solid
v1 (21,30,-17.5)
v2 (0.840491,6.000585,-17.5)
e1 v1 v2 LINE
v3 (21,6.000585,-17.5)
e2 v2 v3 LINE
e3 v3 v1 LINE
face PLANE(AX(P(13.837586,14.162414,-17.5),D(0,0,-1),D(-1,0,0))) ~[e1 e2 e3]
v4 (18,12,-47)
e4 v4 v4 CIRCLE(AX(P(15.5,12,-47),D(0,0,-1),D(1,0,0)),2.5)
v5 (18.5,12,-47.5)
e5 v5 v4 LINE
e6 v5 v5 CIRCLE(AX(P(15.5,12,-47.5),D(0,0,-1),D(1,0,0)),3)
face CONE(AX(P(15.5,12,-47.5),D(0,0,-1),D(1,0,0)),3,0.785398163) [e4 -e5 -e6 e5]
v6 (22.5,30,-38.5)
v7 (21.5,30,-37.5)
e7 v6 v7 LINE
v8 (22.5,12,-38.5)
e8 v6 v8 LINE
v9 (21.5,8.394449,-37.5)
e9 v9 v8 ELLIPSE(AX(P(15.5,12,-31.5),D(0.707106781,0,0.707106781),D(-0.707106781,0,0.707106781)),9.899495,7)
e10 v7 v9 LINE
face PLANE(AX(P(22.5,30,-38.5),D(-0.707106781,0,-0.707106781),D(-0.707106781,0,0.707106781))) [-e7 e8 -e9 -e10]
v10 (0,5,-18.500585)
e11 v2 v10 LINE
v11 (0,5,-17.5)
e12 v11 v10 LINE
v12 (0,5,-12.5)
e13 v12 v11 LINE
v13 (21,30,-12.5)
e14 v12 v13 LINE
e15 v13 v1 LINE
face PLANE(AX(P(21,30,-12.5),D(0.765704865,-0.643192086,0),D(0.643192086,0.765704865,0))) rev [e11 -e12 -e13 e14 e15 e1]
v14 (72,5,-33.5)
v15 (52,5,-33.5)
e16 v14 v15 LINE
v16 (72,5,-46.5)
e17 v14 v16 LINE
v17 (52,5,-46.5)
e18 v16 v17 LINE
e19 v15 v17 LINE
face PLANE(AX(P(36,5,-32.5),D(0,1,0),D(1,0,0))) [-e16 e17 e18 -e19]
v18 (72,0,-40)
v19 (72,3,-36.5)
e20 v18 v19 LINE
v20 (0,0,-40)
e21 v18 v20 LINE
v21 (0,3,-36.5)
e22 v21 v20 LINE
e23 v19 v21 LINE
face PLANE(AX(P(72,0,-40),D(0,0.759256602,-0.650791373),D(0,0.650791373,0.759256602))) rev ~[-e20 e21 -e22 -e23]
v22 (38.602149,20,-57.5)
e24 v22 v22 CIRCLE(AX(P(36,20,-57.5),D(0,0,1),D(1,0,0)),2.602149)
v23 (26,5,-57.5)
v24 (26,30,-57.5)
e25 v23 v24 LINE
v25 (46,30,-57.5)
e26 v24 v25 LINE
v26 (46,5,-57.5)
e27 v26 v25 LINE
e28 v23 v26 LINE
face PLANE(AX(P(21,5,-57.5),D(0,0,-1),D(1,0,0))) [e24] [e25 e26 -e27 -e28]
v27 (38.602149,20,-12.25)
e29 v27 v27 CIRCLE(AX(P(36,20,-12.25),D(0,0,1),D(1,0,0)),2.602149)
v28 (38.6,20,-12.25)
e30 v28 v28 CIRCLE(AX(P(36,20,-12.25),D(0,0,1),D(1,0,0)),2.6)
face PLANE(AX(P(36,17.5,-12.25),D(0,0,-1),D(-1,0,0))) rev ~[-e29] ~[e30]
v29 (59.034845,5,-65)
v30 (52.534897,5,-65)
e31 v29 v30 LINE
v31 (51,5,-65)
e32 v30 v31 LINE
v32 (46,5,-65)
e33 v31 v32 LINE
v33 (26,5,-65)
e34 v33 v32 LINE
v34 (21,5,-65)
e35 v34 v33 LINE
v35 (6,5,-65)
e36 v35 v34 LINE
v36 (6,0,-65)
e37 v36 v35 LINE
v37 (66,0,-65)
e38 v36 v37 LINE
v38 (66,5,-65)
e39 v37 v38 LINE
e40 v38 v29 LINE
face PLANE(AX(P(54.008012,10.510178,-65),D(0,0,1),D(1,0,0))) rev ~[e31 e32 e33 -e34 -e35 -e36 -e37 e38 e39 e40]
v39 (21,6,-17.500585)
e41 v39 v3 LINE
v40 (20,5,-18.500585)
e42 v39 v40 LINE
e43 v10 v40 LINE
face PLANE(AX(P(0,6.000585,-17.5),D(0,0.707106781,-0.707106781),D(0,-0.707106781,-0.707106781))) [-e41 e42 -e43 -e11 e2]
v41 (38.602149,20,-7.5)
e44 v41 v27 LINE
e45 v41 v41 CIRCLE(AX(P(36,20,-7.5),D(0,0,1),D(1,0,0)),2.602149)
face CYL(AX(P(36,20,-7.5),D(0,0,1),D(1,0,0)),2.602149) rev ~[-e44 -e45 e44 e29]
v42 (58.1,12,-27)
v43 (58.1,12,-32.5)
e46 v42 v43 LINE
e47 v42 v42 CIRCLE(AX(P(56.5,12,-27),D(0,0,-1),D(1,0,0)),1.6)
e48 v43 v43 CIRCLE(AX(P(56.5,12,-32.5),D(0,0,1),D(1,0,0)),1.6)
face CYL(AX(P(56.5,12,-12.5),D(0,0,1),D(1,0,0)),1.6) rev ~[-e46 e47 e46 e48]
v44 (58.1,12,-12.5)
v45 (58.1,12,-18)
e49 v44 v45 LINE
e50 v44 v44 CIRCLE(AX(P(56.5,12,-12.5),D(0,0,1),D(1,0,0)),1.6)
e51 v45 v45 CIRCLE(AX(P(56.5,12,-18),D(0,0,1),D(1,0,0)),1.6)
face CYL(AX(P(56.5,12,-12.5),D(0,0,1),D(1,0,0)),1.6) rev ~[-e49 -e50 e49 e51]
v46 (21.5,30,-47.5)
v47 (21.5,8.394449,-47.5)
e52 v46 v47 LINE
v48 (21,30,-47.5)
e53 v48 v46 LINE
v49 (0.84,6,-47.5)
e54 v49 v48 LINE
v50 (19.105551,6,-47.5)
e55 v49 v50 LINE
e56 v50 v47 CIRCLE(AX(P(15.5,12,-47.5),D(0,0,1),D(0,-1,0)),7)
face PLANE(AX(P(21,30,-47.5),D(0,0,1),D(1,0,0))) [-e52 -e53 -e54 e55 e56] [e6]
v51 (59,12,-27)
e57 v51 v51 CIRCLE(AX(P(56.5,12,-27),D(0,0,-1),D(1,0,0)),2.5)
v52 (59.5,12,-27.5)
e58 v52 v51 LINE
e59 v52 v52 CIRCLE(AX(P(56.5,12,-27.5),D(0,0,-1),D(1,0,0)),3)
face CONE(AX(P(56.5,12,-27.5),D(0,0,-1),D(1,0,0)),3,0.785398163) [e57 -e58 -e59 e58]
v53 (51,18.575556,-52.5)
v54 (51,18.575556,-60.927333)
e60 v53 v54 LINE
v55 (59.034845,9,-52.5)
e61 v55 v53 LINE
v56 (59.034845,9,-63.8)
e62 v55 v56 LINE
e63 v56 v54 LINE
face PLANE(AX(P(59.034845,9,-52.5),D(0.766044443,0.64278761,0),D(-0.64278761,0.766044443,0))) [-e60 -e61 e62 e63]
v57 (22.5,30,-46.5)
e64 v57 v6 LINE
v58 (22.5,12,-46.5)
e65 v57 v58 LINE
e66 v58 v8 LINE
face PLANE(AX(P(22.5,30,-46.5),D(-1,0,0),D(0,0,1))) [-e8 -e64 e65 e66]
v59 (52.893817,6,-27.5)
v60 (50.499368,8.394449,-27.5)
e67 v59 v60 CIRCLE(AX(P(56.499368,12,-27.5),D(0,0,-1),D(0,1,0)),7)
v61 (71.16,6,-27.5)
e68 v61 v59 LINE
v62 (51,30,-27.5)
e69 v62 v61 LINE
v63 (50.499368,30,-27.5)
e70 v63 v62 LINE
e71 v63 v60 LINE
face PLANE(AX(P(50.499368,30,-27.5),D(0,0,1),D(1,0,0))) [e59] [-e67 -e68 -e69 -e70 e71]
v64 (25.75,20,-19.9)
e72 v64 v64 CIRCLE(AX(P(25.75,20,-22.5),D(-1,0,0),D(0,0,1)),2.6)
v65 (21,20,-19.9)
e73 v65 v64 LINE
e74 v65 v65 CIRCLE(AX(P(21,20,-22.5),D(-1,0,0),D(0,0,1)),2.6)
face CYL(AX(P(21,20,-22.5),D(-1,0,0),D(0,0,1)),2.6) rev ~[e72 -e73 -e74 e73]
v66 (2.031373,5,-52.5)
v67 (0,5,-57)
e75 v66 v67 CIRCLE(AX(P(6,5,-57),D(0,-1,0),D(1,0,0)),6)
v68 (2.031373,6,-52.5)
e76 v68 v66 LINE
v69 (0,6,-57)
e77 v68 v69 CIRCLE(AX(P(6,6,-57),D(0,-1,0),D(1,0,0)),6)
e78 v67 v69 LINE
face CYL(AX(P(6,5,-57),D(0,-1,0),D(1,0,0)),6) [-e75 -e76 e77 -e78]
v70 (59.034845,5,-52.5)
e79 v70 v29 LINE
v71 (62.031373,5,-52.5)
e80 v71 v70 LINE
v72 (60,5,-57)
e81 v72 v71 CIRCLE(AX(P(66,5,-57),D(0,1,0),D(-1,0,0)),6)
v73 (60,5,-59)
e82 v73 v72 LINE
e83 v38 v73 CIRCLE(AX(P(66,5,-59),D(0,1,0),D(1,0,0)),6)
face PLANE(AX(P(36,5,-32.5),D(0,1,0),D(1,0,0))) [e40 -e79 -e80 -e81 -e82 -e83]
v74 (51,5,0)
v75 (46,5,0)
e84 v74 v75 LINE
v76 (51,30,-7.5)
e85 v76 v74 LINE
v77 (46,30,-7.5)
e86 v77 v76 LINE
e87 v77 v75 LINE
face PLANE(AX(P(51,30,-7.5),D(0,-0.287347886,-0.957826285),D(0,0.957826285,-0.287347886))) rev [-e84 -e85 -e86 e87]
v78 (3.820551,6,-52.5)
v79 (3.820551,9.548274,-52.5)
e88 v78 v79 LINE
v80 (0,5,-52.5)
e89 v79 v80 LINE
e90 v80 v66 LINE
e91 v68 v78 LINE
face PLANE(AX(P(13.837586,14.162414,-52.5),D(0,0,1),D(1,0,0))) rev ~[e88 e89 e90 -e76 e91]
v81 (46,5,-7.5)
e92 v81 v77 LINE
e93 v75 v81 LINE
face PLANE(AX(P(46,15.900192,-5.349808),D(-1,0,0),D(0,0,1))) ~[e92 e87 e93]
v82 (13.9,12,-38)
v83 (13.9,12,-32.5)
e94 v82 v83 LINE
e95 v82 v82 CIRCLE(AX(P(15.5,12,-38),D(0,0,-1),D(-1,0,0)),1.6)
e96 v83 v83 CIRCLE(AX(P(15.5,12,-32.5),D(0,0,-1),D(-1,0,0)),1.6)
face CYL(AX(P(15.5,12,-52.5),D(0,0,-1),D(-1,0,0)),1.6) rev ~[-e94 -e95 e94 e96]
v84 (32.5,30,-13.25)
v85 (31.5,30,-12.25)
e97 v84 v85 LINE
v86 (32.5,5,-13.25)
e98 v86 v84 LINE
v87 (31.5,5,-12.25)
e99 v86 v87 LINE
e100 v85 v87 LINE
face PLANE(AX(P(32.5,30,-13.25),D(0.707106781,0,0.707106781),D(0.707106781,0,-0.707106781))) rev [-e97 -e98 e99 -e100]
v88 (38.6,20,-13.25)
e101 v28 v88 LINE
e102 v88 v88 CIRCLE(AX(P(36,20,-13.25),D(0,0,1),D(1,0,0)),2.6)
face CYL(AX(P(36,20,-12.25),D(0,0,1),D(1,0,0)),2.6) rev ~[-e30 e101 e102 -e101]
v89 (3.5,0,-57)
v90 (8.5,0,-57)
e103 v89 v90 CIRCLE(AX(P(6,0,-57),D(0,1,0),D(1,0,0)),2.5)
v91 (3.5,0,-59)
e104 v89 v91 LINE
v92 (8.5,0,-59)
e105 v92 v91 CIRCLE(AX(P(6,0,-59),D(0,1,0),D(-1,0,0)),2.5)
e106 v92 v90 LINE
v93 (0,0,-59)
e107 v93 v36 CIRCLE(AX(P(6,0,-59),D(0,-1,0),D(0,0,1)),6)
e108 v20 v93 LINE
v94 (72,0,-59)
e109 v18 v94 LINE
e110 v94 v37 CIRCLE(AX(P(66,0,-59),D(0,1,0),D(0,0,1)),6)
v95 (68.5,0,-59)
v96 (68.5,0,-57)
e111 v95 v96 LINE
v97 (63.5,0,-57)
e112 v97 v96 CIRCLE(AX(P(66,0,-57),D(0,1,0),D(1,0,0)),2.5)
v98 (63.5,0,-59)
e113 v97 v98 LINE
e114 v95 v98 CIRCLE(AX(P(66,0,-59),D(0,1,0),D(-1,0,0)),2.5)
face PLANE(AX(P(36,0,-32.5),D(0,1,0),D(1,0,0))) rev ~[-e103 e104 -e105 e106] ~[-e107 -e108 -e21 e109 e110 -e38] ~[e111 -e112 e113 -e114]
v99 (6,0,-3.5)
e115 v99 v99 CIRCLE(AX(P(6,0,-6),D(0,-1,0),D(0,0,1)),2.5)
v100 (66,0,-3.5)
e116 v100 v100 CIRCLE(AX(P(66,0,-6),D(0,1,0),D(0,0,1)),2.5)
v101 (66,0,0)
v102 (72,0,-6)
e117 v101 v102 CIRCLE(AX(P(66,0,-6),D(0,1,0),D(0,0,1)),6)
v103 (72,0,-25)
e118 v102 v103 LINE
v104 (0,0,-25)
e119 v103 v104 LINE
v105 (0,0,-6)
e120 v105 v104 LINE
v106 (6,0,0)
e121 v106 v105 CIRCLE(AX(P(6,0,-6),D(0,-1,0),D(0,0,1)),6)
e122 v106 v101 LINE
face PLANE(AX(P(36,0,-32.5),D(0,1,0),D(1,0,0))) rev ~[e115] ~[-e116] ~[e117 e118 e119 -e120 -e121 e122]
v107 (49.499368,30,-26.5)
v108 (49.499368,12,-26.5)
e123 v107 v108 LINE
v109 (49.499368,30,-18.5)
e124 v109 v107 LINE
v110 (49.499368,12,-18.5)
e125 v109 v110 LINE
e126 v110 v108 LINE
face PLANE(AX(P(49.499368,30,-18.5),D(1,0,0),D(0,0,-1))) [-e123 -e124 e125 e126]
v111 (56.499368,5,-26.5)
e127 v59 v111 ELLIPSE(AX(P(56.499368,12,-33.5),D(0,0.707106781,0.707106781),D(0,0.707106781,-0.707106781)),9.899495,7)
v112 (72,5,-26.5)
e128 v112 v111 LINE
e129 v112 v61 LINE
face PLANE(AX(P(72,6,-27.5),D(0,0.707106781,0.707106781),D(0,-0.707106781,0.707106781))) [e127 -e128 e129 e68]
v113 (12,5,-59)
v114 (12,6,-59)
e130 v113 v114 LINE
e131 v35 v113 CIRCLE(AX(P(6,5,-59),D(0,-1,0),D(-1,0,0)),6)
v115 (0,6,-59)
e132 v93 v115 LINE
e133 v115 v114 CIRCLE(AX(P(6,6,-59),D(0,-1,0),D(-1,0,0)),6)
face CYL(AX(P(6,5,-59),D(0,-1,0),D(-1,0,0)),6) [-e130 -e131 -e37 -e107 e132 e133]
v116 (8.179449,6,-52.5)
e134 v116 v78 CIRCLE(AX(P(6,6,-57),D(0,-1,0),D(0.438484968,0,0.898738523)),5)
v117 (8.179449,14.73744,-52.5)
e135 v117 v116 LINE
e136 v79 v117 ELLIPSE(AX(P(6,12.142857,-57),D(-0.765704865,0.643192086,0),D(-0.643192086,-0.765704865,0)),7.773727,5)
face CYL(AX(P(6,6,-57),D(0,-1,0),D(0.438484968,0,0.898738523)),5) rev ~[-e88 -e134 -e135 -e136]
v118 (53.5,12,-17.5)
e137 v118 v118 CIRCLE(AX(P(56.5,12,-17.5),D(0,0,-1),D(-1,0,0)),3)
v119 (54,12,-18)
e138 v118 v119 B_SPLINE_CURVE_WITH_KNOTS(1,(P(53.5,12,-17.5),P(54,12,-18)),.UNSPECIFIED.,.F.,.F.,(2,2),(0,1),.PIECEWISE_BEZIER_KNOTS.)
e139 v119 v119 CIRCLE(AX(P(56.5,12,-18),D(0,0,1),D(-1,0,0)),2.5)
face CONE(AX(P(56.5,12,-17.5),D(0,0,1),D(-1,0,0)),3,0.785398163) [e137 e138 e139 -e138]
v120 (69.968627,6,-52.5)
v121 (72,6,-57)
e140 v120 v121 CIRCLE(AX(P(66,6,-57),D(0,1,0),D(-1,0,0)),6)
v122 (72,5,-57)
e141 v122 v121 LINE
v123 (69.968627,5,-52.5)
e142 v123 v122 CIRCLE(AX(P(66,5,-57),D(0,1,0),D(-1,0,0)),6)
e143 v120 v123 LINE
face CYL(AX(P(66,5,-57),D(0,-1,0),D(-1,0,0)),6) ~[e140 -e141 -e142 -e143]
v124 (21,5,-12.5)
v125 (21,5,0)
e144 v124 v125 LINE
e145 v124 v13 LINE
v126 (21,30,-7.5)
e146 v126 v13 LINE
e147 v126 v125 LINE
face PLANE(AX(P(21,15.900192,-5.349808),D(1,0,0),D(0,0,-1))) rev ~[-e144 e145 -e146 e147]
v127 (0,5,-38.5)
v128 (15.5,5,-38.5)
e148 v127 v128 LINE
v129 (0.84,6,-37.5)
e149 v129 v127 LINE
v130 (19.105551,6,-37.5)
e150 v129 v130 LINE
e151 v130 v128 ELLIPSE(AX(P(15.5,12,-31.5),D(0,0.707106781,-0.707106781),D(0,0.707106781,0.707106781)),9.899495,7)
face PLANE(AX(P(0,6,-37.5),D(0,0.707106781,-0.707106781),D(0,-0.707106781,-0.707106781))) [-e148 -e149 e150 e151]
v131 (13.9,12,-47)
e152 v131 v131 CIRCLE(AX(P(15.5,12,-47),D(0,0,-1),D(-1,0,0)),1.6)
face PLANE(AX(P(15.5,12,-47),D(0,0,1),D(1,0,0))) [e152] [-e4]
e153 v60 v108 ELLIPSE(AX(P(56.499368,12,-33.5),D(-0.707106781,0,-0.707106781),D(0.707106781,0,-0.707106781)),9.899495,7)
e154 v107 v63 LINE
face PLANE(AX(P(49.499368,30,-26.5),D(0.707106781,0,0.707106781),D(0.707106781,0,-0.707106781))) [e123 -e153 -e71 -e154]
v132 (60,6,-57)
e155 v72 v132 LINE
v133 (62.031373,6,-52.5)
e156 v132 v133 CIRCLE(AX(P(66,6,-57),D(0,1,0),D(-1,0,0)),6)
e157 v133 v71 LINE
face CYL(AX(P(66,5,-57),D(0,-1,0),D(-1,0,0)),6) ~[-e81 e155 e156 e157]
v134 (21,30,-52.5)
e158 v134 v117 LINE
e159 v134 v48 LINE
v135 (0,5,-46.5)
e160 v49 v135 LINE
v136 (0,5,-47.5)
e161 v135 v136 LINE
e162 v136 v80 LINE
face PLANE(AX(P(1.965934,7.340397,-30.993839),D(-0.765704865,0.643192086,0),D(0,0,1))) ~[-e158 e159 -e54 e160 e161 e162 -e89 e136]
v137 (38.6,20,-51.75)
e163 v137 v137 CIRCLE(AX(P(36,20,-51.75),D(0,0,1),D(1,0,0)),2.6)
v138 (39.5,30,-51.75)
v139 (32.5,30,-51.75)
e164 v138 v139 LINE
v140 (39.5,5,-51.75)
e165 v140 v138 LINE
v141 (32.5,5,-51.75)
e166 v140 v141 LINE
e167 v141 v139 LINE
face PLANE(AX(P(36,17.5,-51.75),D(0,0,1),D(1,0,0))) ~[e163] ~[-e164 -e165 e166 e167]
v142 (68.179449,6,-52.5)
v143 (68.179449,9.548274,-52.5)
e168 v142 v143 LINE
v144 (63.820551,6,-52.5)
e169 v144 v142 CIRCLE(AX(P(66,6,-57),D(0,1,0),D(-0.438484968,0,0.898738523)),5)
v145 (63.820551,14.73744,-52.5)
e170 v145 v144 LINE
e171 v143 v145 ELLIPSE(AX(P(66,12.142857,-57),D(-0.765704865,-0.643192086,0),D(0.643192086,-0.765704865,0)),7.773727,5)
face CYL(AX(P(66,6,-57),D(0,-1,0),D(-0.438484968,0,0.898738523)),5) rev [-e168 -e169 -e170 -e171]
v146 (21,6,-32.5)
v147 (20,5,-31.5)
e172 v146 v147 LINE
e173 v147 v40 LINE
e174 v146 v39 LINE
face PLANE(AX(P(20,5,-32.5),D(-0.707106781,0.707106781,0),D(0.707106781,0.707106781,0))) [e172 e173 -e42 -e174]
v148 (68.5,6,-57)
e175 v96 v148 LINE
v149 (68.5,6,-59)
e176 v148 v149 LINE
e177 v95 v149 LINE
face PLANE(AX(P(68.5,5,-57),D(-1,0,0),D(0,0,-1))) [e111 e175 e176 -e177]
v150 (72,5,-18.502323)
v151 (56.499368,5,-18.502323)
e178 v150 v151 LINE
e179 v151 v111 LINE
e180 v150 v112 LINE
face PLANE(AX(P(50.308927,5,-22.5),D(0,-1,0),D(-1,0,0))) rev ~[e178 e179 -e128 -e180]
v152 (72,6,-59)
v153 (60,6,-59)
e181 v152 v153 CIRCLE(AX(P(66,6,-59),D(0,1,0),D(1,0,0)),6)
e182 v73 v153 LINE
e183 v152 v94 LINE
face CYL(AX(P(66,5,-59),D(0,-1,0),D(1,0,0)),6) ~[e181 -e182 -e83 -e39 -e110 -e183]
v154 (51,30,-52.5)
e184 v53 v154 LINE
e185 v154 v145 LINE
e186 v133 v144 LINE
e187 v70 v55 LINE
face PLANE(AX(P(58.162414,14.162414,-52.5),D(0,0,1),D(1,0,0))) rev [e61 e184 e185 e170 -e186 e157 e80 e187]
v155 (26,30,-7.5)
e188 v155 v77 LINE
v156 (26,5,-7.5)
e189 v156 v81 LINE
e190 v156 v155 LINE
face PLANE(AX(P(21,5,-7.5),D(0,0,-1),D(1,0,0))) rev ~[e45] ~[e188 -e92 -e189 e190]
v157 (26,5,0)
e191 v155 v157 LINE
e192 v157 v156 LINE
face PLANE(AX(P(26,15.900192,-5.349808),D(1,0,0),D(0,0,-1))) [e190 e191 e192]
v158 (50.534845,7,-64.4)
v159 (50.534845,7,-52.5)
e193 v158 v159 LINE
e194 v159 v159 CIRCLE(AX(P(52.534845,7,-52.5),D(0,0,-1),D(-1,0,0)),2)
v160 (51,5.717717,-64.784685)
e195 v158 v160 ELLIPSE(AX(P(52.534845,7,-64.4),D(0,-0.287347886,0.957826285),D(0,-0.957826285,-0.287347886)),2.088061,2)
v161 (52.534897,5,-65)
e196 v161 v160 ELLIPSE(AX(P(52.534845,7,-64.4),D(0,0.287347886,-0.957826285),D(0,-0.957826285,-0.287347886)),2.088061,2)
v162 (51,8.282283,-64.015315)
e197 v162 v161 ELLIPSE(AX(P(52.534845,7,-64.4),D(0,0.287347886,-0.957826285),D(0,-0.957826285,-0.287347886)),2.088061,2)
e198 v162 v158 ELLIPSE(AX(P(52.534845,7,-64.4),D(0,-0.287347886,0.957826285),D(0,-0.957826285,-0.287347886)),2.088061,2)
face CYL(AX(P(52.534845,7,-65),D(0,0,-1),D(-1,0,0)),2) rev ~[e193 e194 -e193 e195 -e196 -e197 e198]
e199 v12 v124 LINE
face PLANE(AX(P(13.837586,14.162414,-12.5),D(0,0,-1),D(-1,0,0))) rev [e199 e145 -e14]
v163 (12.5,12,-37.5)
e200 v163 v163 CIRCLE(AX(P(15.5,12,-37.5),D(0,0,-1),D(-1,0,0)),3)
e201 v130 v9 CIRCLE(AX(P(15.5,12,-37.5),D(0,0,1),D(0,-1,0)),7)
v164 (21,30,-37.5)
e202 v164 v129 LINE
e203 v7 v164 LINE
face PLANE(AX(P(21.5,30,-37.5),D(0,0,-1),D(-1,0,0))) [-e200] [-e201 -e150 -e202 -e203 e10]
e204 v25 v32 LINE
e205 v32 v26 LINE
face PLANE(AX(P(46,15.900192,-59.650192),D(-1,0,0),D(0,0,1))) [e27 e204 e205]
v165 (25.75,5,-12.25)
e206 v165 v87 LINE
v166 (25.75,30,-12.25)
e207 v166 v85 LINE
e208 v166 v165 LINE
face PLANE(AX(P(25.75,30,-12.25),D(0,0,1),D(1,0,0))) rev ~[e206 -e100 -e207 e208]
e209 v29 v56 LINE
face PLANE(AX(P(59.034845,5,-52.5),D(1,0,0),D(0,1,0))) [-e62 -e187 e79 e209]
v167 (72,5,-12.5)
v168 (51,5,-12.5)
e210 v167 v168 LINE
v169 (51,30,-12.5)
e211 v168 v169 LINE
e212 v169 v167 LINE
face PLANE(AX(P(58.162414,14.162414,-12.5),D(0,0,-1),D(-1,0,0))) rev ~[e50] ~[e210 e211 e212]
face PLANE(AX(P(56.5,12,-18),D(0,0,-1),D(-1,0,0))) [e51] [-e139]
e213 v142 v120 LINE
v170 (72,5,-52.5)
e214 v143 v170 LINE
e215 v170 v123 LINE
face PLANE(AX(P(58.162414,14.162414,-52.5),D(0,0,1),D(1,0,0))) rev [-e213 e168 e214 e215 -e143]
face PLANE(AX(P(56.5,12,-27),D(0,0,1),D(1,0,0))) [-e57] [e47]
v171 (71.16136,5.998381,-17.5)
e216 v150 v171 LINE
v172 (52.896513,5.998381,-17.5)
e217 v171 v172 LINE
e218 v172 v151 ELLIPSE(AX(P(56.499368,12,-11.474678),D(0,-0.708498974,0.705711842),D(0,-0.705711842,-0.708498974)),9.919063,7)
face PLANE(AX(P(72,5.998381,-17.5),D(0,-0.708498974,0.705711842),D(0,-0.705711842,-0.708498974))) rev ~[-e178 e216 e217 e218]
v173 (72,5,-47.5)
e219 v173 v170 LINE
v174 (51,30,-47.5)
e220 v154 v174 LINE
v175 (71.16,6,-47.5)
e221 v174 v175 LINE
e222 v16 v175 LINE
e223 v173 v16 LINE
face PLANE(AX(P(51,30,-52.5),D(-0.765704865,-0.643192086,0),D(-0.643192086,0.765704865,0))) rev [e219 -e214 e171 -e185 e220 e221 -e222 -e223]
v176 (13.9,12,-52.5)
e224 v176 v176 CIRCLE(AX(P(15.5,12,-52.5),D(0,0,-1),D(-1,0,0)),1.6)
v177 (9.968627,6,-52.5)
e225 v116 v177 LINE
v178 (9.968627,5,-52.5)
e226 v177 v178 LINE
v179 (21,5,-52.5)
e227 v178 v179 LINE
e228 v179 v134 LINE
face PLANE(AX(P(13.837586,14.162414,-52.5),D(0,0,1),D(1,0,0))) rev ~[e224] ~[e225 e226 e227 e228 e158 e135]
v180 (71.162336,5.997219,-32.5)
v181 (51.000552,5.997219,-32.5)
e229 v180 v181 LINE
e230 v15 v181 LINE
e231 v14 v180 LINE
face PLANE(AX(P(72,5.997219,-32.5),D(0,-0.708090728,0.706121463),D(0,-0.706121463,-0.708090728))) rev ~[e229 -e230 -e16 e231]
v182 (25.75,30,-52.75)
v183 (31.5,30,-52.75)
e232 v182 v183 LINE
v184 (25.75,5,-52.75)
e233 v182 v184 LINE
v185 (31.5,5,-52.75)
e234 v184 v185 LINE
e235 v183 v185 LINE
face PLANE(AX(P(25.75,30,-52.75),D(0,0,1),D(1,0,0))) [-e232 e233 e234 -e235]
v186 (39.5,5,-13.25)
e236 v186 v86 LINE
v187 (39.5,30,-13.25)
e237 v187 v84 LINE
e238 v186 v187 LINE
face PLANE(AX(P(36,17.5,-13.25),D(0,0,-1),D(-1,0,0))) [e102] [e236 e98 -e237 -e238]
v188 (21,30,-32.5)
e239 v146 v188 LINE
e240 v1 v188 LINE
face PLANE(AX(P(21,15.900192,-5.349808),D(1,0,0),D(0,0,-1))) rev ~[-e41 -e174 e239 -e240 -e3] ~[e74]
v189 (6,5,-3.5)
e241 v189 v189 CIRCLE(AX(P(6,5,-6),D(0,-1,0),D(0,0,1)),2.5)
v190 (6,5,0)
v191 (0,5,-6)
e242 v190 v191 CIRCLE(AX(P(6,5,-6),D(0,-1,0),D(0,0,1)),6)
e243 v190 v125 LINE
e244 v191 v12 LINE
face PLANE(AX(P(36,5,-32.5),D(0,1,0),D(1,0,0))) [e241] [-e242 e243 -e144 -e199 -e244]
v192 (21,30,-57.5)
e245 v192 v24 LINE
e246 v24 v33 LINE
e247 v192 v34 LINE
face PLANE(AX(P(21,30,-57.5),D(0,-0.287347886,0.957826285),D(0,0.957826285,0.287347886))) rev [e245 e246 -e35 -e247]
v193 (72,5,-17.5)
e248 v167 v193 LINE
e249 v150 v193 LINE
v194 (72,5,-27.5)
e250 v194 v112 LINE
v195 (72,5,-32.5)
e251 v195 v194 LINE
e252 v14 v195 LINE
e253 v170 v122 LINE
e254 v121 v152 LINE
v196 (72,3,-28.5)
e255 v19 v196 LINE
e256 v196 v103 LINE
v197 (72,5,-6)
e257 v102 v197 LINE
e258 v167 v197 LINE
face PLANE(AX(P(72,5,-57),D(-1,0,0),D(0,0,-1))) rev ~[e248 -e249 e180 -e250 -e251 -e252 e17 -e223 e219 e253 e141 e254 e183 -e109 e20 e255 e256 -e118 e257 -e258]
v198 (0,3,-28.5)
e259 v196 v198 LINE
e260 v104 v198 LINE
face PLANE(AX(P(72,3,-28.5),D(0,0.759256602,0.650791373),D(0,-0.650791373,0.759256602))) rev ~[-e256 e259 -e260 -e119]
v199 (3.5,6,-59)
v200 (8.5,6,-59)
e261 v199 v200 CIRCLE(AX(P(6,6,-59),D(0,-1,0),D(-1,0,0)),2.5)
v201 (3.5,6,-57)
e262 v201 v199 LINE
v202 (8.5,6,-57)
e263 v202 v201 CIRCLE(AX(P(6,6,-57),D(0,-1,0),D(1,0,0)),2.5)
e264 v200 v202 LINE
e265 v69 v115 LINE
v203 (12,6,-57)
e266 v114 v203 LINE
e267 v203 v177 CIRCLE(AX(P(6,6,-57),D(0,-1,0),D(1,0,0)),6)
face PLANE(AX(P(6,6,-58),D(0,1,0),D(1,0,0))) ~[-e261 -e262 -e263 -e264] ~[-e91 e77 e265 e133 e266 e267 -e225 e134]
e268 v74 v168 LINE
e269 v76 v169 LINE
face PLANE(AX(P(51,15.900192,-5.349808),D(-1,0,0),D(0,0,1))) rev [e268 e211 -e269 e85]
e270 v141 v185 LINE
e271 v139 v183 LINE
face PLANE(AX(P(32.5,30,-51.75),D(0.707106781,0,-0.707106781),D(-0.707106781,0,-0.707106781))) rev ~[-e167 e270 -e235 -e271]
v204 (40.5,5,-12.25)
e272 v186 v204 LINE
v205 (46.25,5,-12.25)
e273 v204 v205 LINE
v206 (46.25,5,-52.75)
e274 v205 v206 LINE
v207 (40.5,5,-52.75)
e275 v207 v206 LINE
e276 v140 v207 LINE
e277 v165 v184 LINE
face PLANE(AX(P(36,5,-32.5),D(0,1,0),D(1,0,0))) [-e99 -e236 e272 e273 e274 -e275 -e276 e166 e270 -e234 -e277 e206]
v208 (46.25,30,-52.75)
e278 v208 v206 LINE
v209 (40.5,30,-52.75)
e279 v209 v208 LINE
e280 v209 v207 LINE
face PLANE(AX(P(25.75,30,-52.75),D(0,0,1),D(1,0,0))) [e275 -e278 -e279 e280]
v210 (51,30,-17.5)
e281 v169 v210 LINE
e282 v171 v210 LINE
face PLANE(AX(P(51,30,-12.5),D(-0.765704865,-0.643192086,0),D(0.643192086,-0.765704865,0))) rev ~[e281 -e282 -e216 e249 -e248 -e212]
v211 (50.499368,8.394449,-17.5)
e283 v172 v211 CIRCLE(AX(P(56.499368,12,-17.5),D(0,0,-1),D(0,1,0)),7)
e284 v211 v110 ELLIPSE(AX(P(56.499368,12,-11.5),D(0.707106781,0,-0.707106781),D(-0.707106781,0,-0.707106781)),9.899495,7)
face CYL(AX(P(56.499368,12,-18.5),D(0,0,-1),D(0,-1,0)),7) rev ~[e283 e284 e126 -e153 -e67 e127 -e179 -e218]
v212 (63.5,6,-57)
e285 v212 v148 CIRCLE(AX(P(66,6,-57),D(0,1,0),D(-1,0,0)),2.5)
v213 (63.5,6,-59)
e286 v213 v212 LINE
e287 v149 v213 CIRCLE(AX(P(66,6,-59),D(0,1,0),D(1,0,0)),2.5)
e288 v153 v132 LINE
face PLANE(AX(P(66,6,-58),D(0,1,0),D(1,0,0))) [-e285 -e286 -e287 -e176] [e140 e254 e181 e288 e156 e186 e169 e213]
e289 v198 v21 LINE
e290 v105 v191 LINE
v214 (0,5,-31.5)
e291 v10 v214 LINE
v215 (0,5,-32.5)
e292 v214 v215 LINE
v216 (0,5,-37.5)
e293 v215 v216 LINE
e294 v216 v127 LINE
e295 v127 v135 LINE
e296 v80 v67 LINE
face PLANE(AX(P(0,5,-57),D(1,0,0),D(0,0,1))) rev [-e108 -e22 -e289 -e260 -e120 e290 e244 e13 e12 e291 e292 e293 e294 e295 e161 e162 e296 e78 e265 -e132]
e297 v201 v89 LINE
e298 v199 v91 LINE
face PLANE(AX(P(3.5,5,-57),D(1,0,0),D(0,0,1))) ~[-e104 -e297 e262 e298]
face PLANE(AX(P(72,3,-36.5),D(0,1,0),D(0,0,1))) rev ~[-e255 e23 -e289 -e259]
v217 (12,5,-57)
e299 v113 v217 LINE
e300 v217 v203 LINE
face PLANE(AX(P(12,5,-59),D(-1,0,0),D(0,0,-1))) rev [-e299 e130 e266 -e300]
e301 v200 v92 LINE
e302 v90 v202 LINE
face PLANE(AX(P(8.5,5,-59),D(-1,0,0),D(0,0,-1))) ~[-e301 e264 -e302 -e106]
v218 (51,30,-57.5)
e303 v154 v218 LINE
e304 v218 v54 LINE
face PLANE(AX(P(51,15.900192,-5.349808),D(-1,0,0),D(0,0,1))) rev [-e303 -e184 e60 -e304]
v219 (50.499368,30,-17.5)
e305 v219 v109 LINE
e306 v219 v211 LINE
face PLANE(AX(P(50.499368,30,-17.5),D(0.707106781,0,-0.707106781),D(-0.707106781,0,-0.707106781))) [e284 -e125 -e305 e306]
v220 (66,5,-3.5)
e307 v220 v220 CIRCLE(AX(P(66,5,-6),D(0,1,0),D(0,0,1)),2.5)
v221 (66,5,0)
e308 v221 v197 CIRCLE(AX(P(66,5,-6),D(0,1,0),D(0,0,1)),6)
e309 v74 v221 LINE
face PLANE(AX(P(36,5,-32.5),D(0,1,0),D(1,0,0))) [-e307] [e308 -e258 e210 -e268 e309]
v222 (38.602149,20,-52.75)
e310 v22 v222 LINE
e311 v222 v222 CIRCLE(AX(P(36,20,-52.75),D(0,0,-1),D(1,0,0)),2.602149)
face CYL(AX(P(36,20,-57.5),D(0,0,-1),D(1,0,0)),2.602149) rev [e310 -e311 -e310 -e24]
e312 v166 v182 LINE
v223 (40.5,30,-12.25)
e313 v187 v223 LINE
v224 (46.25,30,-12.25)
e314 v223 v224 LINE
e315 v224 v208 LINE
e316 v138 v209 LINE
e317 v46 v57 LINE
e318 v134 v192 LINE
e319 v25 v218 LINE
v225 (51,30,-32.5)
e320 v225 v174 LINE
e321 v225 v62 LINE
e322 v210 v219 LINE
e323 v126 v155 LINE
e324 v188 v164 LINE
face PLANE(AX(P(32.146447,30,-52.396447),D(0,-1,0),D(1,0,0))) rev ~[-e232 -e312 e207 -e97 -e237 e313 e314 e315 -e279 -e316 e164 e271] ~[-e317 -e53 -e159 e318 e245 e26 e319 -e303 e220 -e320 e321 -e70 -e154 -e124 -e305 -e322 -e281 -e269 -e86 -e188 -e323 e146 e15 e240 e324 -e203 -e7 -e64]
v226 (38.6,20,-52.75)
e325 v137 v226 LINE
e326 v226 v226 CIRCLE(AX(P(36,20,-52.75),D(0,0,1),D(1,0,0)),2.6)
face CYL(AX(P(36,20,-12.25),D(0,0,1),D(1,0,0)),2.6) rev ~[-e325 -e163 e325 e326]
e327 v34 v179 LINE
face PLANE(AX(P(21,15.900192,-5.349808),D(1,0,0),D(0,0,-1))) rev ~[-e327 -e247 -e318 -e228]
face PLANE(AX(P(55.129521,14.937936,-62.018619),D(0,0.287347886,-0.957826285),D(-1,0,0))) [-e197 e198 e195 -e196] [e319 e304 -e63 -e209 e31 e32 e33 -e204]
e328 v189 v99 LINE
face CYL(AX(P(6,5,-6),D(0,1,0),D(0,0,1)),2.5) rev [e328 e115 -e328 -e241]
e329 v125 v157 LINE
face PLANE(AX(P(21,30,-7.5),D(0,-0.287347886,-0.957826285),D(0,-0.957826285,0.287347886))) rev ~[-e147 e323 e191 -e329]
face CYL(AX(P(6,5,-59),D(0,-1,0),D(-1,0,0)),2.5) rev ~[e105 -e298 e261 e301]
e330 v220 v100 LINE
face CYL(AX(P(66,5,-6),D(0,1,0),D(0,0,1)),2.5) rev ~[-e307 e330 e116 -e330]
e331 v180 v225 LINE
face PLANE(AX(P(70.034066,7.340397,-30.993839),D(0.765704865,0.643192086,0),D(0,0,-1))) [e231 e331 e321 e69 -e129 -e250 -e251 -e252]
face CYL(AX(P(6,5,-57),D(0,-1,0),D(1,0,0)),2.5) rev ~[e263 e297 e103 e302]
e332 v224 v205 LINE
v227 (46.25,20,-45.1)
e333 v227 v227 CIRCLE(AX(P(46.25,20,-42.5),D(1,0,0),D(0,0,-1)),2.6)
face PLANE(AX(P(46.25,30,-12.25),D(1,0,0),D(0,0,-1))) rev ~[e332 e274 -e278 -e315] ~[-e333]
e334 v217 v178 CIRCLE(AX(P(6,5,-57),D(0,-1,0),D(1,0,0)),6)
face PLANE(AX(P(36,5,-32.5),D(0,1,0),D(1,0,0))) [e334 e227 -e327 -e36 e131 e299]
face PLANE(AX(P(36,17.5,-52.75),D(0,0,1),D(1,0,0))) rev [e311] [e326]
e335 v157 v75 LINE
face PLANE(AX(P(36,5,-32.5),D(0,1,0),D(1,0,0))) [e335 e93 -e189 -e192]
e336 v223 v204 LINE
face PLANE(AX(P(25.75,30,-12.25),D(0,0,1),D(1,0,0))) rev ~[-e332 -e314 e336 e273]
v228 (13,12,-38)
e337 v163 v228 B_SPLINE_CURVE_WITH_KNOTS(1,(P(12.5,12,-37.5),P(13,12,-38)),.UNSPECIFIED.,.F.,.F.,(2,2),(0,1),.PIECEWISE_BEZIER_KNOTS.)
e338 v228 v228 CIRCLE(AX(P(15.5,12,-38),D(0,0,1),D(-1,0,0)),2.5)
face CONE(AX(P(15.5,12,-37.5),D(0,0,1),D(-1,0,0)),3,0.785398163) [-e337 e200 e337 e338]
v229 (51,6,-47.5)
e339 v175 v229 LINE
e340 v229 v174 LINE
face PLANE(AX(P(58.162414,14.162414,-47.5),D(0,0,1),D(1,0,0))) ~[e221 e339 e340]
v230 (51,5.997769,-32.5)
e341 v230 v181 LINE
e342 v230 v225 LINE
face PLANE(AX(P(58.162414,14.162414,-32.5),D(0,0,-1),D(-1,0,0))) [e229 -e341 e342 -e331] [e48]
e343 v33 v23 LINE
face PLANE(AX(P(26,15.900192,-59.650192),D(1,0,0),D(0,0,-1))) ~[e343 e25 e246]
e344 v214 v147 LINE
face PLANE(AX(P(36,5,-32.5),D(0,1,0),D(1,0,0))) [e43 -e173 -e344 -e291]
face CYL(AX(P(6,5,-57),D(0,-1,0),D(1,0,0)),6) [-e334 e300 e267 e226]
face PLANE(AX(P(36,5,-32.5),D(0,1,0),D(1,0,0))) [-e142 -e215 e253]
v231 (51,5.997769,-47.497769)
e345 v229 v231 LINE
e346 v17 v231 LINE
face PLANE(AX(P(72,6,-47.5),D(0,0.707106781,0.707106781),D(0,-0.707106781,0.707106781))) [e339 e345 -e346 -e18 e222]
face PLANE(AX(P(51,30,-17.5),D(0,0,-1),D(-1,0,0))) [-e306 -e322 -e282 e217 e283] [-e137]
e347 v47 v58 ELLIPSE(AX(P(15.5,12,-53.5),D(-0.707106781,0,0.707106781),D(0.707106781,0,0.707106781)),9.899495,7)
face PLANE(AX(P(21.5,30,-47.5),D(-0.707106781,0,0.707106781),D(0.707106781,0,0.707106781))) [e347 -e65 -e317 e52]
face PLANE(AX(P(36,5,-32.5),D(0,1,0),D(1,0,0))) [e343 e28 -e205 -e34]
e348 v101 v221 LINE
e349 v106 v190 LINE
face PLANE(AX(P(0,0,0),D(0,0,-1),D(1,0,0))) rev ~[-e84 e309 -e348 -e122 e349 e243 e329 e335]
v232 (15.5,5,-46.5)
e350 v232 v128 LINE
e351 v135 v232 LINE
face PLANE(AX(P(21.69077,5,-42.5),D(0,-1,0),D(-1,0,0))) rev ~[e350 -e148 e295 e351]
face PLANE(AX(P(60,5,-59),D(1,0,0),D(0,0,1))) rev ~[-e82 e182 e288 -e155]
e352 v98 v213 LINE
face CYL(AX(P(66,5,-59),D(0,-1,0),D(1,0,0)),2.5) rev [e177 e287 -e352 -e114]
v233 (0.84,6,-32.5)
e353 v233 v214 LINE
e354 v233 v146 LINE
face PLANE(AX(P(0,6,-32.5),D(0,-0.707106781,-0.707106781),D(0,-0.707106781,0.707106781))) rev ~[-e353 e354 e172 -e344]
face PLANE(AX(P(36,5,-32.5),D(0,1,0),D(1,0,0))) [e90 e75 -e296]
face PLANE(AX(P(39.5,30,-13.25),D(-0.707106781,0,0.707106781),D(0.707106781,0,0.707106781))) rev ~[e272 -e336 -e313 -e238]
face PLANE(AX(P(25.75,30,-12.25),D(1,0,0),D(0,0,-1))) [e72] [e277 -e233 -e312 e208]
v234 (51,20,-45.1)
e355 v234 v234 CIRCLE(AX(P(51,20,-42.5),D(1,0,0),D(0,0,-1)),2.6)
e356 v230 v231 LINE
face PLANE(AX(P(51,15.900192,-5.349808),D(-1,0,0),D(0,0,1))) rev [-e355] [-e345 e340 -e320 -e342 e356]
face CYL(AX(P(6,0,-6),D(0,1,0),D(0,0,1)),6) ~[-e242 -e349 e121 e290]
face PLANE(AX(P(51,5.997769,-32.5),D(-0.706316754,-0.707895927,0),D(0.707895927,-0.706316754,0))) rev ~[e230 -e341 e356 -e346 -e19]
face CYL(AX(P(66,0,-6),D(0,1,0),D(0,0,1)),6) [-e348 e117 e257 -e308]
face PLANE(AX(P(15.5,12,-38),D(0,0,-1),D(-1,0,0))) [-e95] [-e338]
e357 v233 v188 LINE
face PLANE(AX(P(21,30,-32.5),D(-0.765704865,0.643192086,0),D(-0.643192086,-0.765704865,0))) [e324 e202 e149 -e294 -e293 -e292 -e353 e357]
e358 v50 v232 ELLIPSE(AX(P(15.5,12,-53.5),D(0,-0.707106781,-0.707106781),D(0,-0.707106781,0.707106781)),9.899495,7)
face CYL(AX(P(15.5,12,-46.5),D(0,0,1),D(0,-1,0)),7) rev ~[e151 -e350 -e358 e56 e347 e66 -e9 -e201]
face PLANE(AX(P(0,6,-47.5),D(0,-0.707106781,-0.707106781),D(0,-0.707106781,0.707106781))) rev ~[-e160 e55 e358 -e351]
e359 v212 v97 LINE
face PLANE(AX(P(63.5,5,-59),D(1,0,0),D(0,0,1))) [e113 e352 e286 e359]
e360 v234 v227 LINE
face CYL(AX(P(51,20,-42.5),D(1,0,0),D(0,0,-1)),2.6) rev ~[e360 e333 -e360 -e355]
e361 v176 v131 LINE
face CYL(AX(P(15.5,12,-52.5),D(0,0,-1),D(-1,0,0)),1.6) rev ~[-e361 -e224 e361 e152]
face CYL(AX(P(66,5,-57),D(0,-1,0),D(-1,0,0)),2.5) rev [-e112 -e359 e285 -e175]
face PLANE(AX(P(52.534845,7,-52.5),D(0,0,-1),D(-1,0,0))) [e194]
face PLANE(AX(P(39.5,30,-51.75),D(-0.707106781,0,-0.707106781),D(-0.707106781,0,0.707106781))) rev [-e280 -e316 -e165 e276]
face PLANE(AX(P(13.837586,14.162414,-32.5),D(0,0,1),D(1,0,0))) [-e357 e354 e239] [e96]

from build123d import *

# Parameters (mm, degrees)
SKETCH1_W               = 72
SKETCH1_H               = 65
BOSS_EXTRUDE1_DEPTH     = 5
SKETCH2_W               = 30
SKETCH2_H               = 50
BOSS_EXTRUDE2_DEPTH     = 25
SKETCH4_W               = 20.5
SKETCH4_H               = 40.5
CUT_EXTRUDE1_DEPTH      = 25
BOSS_EXTRUDE3_DEPTH     = 5
MIRROR2_COPY_1_DEPTH    = 5
BOSS_EXTRUDE4_START     = -5
BOSS_EXTRUDE4_DEPTH     = 5
BOSS_EXTRUDE5_DEPTH     = 5
MIRROR4_START           = -5
MIRROR4_COPY_1_DEPTH    = 5
BOSS_EXTRUDE6_DEPTH     = 5
FILLET1_R               = 6
CUT_EXTRUDE3_DEPTH      = 75
SKETCH11_R              = 2.5
CUT_EXTRUDE4_DEPTH      = 5
SKETCH12_R              = 1.6
CUT_EXTRUDE5_DEPTH      = 5
SKETCH13_R              = 2.602149029
CUT_EXTRUDE6_DEPTH      = 7
SKETCH14_W              = 7
SKETCH14_H              = 25
BOSS_EXTRUDE7_DEPTH     = 1
BOSS_EXTRUDE8_DEPTH     = 25
MIRROR8_COPY_1_DEPTH    = 25
SKETCH16_R              = 2.6
CUT_EXTRUDE7_DEPTH      = 65
CUT_EXTRUDE8_DEPTH      = 102.533245787
CUT_EXTRUDE8_DEPTH_BACK = 25
FILLET5_R               = 7
CUT_EXTRUDE9_DEPTH      = 25
FILLET6_R               = 7
BOSS_EXTRUDE10_DEPTH    = 25
BOSS_EXTRUDE11_DEPTH    = 25
BOSS_EXTRUDE12_DEPTH    = 15
BOSS_EXTRUDE13_DEPTH    = 25
BOSS_EXTRUDE14_DEPTH    = 25
SKETCH28_W              = 39.163365543
SKETCH28_H              = 8.307401159
CUT_EXTRUDE10_DEPTH     = 5
BOSS_EXTRUDE15_DEPTH    = 25
BOSS_EXTRUDE16_DEPTH    = 15
BOSS_EXTRUDE17_DEPTH    = 25
SKETCH32_R              = 3
BOSS_EXTRUDE18_DEPTH    = 0.5
BOSS_EXTRUDE18_TAPER    = 45
SKETCH33_R              = 1.6
CUT_EXTRUDE11_DEPTH     = 20.5
SKETCH34_R              = 3
BOSS_EXTRUDE19_DEPTH    = 0.5
BOSS_EXTRUDE19_TAPER    = 45
SKETCH35_R              = 1.6
CUT_EXTRUDE12_DEPTH     = 10.5
SKETCH37_R              = 3
BOSS_EXTRUDE20_DEPTH    = 0.5
BOSS_EXTRUDE20_TAPER    = 45
SKETCH38_R              = 3
BOSS_EXTRUDE21_DEPTH    = 0.5
BOSS_EXTRUDE21_TAPER    = 45
SKETCH36_R              = 1.6
CUT_EXTRUDE13_DEPTH     = 20.5
SKETCH40_R              = 2.6
CUT_EXTRUDE14_DEPTH     = 10
SKETCH41_R              = 2.6
CUT_EXTRUDE15_DEPTH     = 10
BOSS_EXTRUDE22_DEPTH    = 1
CUT_EXTRUDE17_DEPTH     = 11
CUT_EXTRUDE18_DEPTH     = 10
BOSS_EXTRUDE23_DEPTH    = 12.5
SKETCH50_R              = 2
CUT_EXTRUDE20_DEPTH     = 12.5
SKETCH49_W              = 13.457304279
SKETCH49_H              = 22.246433757
CUT_EXTRUDE21_DEPTH     = 12.5
CUT_EXTRUDE22_DEPTH     = 10


with BuildPart() as part:
    # Sketch1 → Boss-Extrude1 (new body)
    with BuildSketch(Plane(origin=(0, 0, 0), x_dir=(1, 0, 0), z_dir=(0, 1, 0))):
        with Locations((36, 32.5)):
            Rectangle(SKETCH1_W, SKETCH1_H)
    extrude(amount=BOSS_EXTRUDE1_DEPTH)

    # Sketch2 → Boss-Extrude2 (add)
    with BuildSketch(Plane(origin=(0, 5, 0), x_dir=(1, 0, 0), z_dir=(0, 1, 0))):
        with Locations((36, 32.5)):
            Rectangle(SKETCH2_W, SKETCH2_H)
    extrude(amount=BOSS_EXTRUDE2_DEPTH)

    # Sketch4 → Cut-Extrude1 (cut)
    with BuildSketch(Plane(origin=(0, 30, 0), x_dir=(1, 0, 0), z_dir=(0, 1, 0))):
        with Locations((36, 32.5)):
            Rectangle(SKETCH4_W, SKETCH4_H)
    extrude(amount=-CUT_EXTRUDE1_DEPTH, mode=Mode.SUBTRACT)

    # Sketch5 → Boss-Extrude3 (add)
    with BuildSketch(Plane(origin=(51, 0, 0), x_dir=(0, 0, -1), z_dir=(1, 0, 0))):
        Polygon((57.5, 30), (65, 5), (57.5, 5), align=None)
    boss_extrude3 = extrude(amount=-BOSS_EXTRUDE3_DEPTH)

    # Mirror1: Boss-Extrude3 across plane
    add(boss_extrude3.mirror(Plane(origin=(36, 0, 0), x_dir=(0, 0, 1), z_dir=(1, 0, 0))))

    # Mirror2: Boss-Extrude3 across plane
    add(boss_extrude3.mirror(Plane.XY.offset(-32.5)))

    # Mirror2 copy 1 sketch → Mirror2 copy 1 (add)
    with BuildSketch(Plane(origin=(21, 0, -65), x_dir=(0, 0, 1), z_dir=(-1, 0, 0))):
        Polygon((57.5, 30), (65, 5), (57.5, 5), align=None)
    extrude(amount=-MIRROR2_COPY_1_DEPTH)

    # Sketch6 → Boss-Extrude4 (add)
    with BuildSketch(Plane.XY.offset(-7.5).offset(BOSS_EXTRUDE4_START)):
        Polygon((51, 30), (72, 5), (51, 5), align=None)
    boss_extrude4 = extrude(amount=-BOSS_EXTRUDE4_DEPTH)

    # Mirror3: Boss-Extrude4 across plane
    add(boss_extrude4.mirror(Plane.XY.offset(-32.5)))

    # Sketch7 → Boss-Extrude5 (add)
    with BuildSketch(Plane.XY.offset(-32.5)):
        Polygon((51, 30), (72, 5), (51, 5), align=None)
    extrude(amount=BOSS_EXTRUDE5_DEPTH)

    # Mirror4: Boss-Extrude4 across plane
    add(boss_extrude4.mirror(Plane(origin=(36, 0, 0), x_dir=(0, 0, 1), z_dir=(1, 0, 0))))

    # Mirror4 copy 1 sketch → Mirror4 copy 1 (add)
    with BuildSketch(Plane(origin=(72, 0, -57.5), x_dir=(-1, 0, 0), z_dir=(0, 0, -1)).offset(MIRROR4_START)):
        Polygon((51, 30), (72, 5), (51, 5), align=None)
    extrude(amount=-MIRROR4_COPY_1_DEPTH)

    # Sketch8 → Boss-Extrude6 (add)
    with BuildSketch(Plane.XY.offset(-32.5)):
        Polygon((21, 30), (0, 5), (21, 5), align=None)
    extrude(amount=-BOSS_EXTRUDE6_DEPTH)

    # Fillet1
    fillet1_edges = [part.edges().sort_by_distance(p)[0] for p in [
        (0, 2.5, 0),
        (0, 2.5, -65),
        (72, 2.5, -65),
        (72, 2.5, 0),
    ]]
    fillet(fillet1_edges, radius=FILLET1_R)

    # Sketch10 → Cut-Extrude3 (cut)
    with BuildSketch(Plane(origin=(72, 0, 0), x_dir=(0, 0, -1), z_dir=(1, 0, 0))):
        Polygon((40, 0), (36.5, 3), (32.5, 3), (28.5, 3), (25, 0), align=None)
    extrude(amount=-CUT_EXTRUDE3_DEPTH, mode=Mode.SUBTRACT)

    # Sketch11 → Cut-Extrude4 (cut)
    with BuildSketch(Plane(origin=(0, 5, 0), x_dir=(1, 0, 0), z_dir=(0, 1, 0))):
        with Locations(Location((66, 6, 0), (0, 0, 270))):
            Circle(SKETCH11_R)
    cut_extrude4 = extrude(amount=-CUT_EXTRUDE4_DEPTH, mode=Mode.SUBTRACT)

    # Mirror6: Cut-Extrude4 across plane
    add(cut_extrude4.mirror(Plane(origin=(36, 0, 0), x_dir=(0, 0, 1), z_dir=(1, 0, 0))), mode=Mode.SUBTRACT)

    # Sketch12 → Cut-Extrude5 (cut)
    with BuildSketch(Plane.XY.offset(-12.5)):
        with Locations((56.5, 12)):
            Circle(SKETCH12_R)
    extrude(amount=-CUT_EXTRUDE5_DEPTH, mode=Mode.SUBTRACT)

    # Sketch13 → Cut-Extrude6 (cut)
    with BuildSketch(Plane.XY.offset(-7.5)):
        with Locations((36, 20)):
            Circle(SKETCH13_R)
    cut_extrude6 = extrude(amount=-CUT_EXTRUDE6_DEPTH, mode=Mode.SUBTRACT)

    # Sketch14 → Boss-Extrude7 (add)
    with BuildSketch(Plane(origin=(0, 0, -12.25), x_dir=(-1, 0, 0), z_dir=(0, 0, -1))):
        with Locations((-36, 17.5)):
            Rectangle(SKETCH14_W, SKETCH14_H)
    boss_extrude7 = extrude(amount=BOSS_EXTRUDE7_DEPTH)

    # Sketch15 → Boss-Extrude8 (add)
    with BuildSketch(Plane(origin=(0, 30, 0), x_dir=(1, 0, 0), z_dir=(0, 1, 0))):
        Polygon((39.5, 13.25), (40.5, 12.25), (39.5, 12.25), align=None)
    boss_extrude8 = extrude(amount=-BOSS_EXTRUDE8_DEPTH)

    # Mirror7: Boss-Extrude8 across plane
    add(boss_extrude8.mirror(Plane(origin=(36, 0, 0), x_dir=(0, 0, 1), z_dir=(1, 0, 0))))

    # Mirror8: Cut-Extrude6, Boss-Extrude7, Boss-Extrude8 across plane
    add(cut_extrude6.mirror(Plane.XY.offset(-32.5)), mode=Mode.SUBTRACT)
    add(boss_extrude7.mirror(Plane.XY.offset(-32.5)))
    add(boss_extrude8.mirror(Plane.XY.offset(-32.5)))

    # Mirror8 copy 1 sketch → Mirror8 copy 1 (add)
    with BuildSketch(Plane(origin=(72, 30, -65), x_dir=(-1, 0, 0), z_dir=(0, 1, 0))):
        Polygon((39.5, 13.25), (40.5, 12.25), (39.5, 12.25), align=None)
    extrude(amount=-MIRROR8_COPY_1_DEPTH)

    # Sketch16 → Cut-Extrude7 (cut)
    with BuildSketch(Plane.XY.offset(-12.25)):
        with Locations((36, 20)):
            Circle(SKETCH16_R)
    extrude(amount=-CUT_EXTRUDE7_DEPTH, mode=Mode.SUBTRACT)

    # Sketch21 → Cut-Extrude8 (cut, two sides)
    with BuildSketch(Plane(origin=(0, 30, 0), x_dir=(1, 0, 0), z_dir=(0, 1, 0))) as cut_extrude8_sk:
        Polygon((21.5, 47.5), (22.5, 46.5), (22.5, 38.5), (21.5, 37.5), (21, 37.5), (21, 47.5), align=None)
    extrude(amount=CUT_EXTRUDE8_DEPTH, mode=Mode.SUBTRACT)
    extrude(cut_extrude8_sk.sketch, amount=-CUT_EXTRUDE8_DEPTH_BACK, mode=Mode.SUBTRACT)

    # Fillet5
    fillet5_edges = [part.edges().sort_by_distance(p)[0] for p in [
        (22.5, 5, -42.5),
    ]]
    fillet(fillet5_edges, radius=FILLET5_R)

    # Sketch22 → Cut-Extrude9 (cut)
    with BuildSketch(Plane(origin=(0, 30, 0), x_dir=(1, 0, 0), z_dir=(0, 1, 0))):
        Polygon((51, 17.5), (50.49936831, 17.5), (49.49936831, 18.5), (49.49936831, 26.5), (50.49936831, 27.5), (51, 27.5), align=None)
    extrude(amount=-CUT_EXTRUDE9_DEPTH, mode=Mode.SUBTRACT)

    # Fillet6
    fillet6_edges = [part.edges().sort_by_distance(p)[0] for p in [
        (49.49936831, 5, -22.5),
    ]]
    fillet(fillet6_edges, radius=FILLET6_R)

    # Sketch23 → Boss-Extrude10 (add)
    with BuildSketch(Plane(origin=(72, 0, 0), x_dir=(0, 0, -1), z_dir=(1, 0, 0))):
        Polygon((17.5, 5), (17.5, 5.998380503), (18.502323497, 5), align=None)
    extrude(amount=-BOSS_EXTRUDE10_DEPTH)

    # Sketch24 → Boss-Extrude11 (add)
    with BuildSketch(Plane(origin=(72, 0, 0), x_dir=(0, 0, -1), z_dir=(1, 0, 0))):
        Polygon((27.5, 5), (27.5, 6), (26.5, 5), align=None)
    extrude(amount=-BOSS_EXTRUDE11_DEPTH)

    # Sketch25 → Boss-Extrude12 (add)
    with BuildSketch(Plane(origin=(0, 0, -32.5), x_dir=(-1, 0, 0), z_dir=(0, 0, -1))):
        Polygon((-51, 5), (-51, 5.997769202), (-52, 5), align=None)
    extrude(amount=BOSS_EXTRUDE12_DEPTH)

    # Sketch26 → Boss-Extrude13 (add)
    with BuildSketch(Plane(origin=(72, 0, 0), x_dir=(0, 0, -1), z_dir=(1, 0, 0))):
        Polygon((32.5, 5), (32.5, 5.997218908), (33.5, 5), align=None)
    extrude(amount=-BOSS_EXTRUDE13_DEPTH)

    # Sketch27 → Boss-Extrude14 (add)
    with BuildSketch(Plane(origin=(72, 0, 0), x_dir=(0, 0, -1), z_dir=(1, 0, 0))):
        Polygon((47.5, 5), (47.5, 6), (46.5, 5), align=None)
    extrude(amount=-BOSS_EXTRUDE14_DEPTH)

    # Sketch28 → Cut-Extrude10 (cut)
    with BuildSketch(Plane(origin=(44.676360225, 37.528142589, 0), x_dir=(0, 0, -1), z_dir=(0.7657048647896111, 0.6431920864232733, 0))):
        with Locations((30.993839272, -39.424779611)):
            Rectangle(SKETCH28_W, SKETCH28_H)
    cut_extrude10 = extrude(amount=CUT_EXTRUDE10_DEPTH, mode=Mode.SUBTRACT)

    # Sketch29 → Boss-Extrude15 (add)
    with BuildSketch(Plane.ZY):
        Polygon((-47.5, 5), (-47.5, 6), (-46.5, 5), align=None)
        Polygon((-37.5, 5), (-37.5, 6), (-38.5, 5), align=None)
    extrude(amount=-BOSS_EXTRUDE15_DEPTH)

    # Sketch30 → Boss-Extrude16 (add)
    with BuildSketch(Plane.XY.offset(-32.5)):
        Polygon((21, 5), (20, 5), (21, 6), align=None)
    extrude(amount=BOSS_EXTRUDE16_DEPTH)

    # Sketch31 → Boss-Extrude17 (add)
    with BuildSketch(Plane.ZY):
        Polygon((-32.5, 5), (-32.5, 6), (-31.5, 5), align=None)
        Polygon((-17.5, 5), (-17.5, 6.000584877), (-18.500584877, 5), align=None)
    extrude(amount=-BOSS_EXTRUDE17_DEPTH)

    # Mirror10: Cut-Extrude10 across plane
    add(cut_extrude10.mirror(Plane(origin=(36, 0, 0), x_dir=(0, 0, 1), z_dir=(1, 0, 0))), mode=Mode.SUBTRACT)

    # Sketch32 → Boss-Extrude18 (add)
    with BuildSketch(Plane(origin=(0, 0, -17.5), x_dir=(-1, 0, 0), z_dir=(0, 0, -1))):
        with Locations((-56.5, 12)):
            Circle(SKETCH32_R)
    extrude(amount=BOSS_EXTRUDE18_DEPTH, taper=BOSS_EXTRUDE18_TAPER)

    # Sketch33 → Cut-Extrude11 (cut)
    with BuildSketch(Plane.XY.offset(-12.5)):
        with Locations((56.5, 12)):
            Circle(SKETCH33_R)
    extrude(amount=-CUT_EXTRUDE11_DEPTH, mode=Mode.SUBTRACT)

    # Sketch34 → Boss-Extrude19 (add)
    with BuildSketch(Plane.XY.offset(-27.5)):
        with Locations((56.5, 12)):
            Circle(SKETCH34_R)
    extrude(amount=BOSS_EXTRUDE19_DEPTH, taper=BOSS_EXTRUDE19_TAPER)

    # Sketch35 → Cut-Extrude12 (cut)
    with BuildSketch(Plane(origin=(0, 0, -32.5), x_dir=(-1, 0, 0), z_dir=(0, 0, -1))):
        with Locations(Location((-56.5, 12, 0), (0, 0, 180))):
            Circle(SKETCH35_R)
    extrude(amount=-CUT_EXTRUDE12_DEPTH, mode=Mode.SUBTRACT)

    # Sketch37 → Boss-Extrude20 (add)
    with BuildSketch(Plane.XY.offset(-47.5)):
        with Locations((15.5, 12)):
            Circle(SKETCH37_R)
    extrude(amount=BOSS_EXTRUDE20_DEPTH, taper=BOSS_EXTRUDE20_TAPER)

    # Sketch38 → Boss-Extrude21 (add)
    with BuildSketch(Plane(origin=(0, 0, -37.5), x_dir=(-1, 0, 0), z_dir=(0, 0, -1))):
        with Locations((-15.5, 12)):
            Circle(SKETCH38_R)
    extrude(amount=BOSS_EXTRUDE21_DEPTH, taper=BOSS_EXTRUDE21_TAPER)

    # Sketch36 → Cut-Extrude13 (cut)
    with BuildSketch(Plane(origin=(0, 0, -52.5), x_dir=(-1, 0, 0), z_dir=(0, 0, -1))):
        with Locations((-15.5, 12)):
            Circle(SKETCH36_R)
    extrude(amount=-CUT_EXTRUDE13_DEPTH, mode=Mode.SUBTRACT)

    # Sketch40 → Cut-Extrude14 (cut)
    with BuildSketch(Plane.ZY.offset(-21)):
        with Locations((-22.5, 20)):
            Circle(SKETCH40_R)
    extrude(amount=-CUT_EXTRUDE14_DEPTH, mode=Mode.SUBTRACT)

    # Sketch41 → Cut-Extrude15 (cut)
    with BuildSketch(Plane(origin=(51, 0, 0), x_dir=(0, 0, -1), z_dir=(1, 0, 0))):
        with Locations((42.5, 20)):
            Circle(SKETCH41_R)
    extrude(amount=-CUT_EXTRUDE15_DEPTH, mode=Mode.SUBTRACT)

    # Sketch9 → Boss-Extrude22 (add)
    with BuildSketch(Plane(origin=(0, 5, 0), x_dir=(1, 0, 0), z_dir=(0, 1, 0))):
        with BuildLine():
            Line((60, 59), (60, 57))
            ThreePointArc((60, 57), (66, 51), (72, 57))
            Line((72, 57), (72, 59))
            ThreePointArc((72, 59), (66, 65), (60, 59))
        make_face()
        with BuildLine():
            Line((63.5, 59), (63.5, 57))
            ThreePointArc((63.5, 57), (66, 54.5), (68.5, 57))
            Line((68.5, 57), (68.5, 59))
            ThreePointArc((68.5, 59), (66, 61.5), (63.5, 59))
        make_face(mode=Mode.SUBTRACT)
    boss_extrude22 = extrude(amount=BOSS_EXTRUDE22_DEPTH)

    # Sketch45 → Cut-Extrude17 (cut)
    with BuildSketch(Plane(origin=(0, 6, 0), x_dir=(1, 0, 0), z_dir=(0, 1, 0))):
        with BuildLine():
            Line((68.179449472, 52.5), (63.80757516, 52.506307385))
            ThreePointArc((63.80757516, 52.506307385), (65.992786414, 52.000005204), (68.179449472, 52.5))
        make_face()
    cut_extrude17 = extrude(amount=CUT_EXTRUDE17_DEPTH, mode=Mode.SUBTRACT)

    # Sketch47 → Cut-Extrude18 (cut)
    with BuildSketch(Plane(origin=(0, 5, 0), x_dir=(1, 0, 0), z_dir=(0, 1, 0))):
        with BuildLine():
            Line((68.5, 59), (68.5, 57))
            ThreePointArc((68.5, 57), (66, 54.5), (63.5, 57))
            Line((63.5, 57), (63.5, 59))
            ThreePointArc((63.5, 59), (66, 61.5), (68.5, 59))
        make_face()
    extrude(amount=-CUT_EXTRUDE18_DEPTH, mode=Mode.SUBTRACT)

    # Mirror12: Boss-Extrude22, Cut-Extrude17 across plane
    add(boss_extrude22.mirror(Plane(origin=(36, 0, 0), x_dir=(0, 0, 1), z_dir=(1, 0, 0))))
    add(cut_extrude17.mirror(Plane(origin=(36, 0, 0), x_dir=(0, 0, 1), z_dir=(1, 0, 0))), mode=Mode.SUBTRACT)

    # Sketch48 → Boss-Extrude23 (add)
    with BuildSketch(Plane(origin=(0, 0, -52.5), x_dir=(-1, 0, 0), z_dir=(0, 0, -1))):
        Polygon((-59.034845121, 5), (-59.034845121, 9), (-51, 18.575555539), (-51, 5), align=None)
    extrude(amount=BOSS_EXTRUDE23_DEPTH)

    # Sketch50 → Cut-Extrude20 (cut)
    with BuildSketch(Plane(origin=(0, 0, -65), x_dir=(-1, 0, 0), z_dir=(0, 0, -1))):
        with Locations((-52.534845121, 7)):
            Circle(SKETCH50_R)
    extrude(amount=-CUT_EXTRUDE20_DEPTH, mode=Mode.SUBTRACT)

    # Sketch49 → Cut-Extrude21 (cut)
    with BuildSketch(Plane(origin=(0, 18.302752294, -61.009174312), x_dir=(-1, 0, 0), z_dir=(0, 0.28734788556634494, -0.9578262852211515))):
        with Locations((-55.129520737, -3.512971616)):
            Rectangle(SKETCH49_W, SKETCH49_H)
    extrude(amount=CUT_EXTRUDE21_DEPTH, mode=Mode.SUBTRACT)

    # Mirror13: Boss-Extrude22 across plane
    add(boss_extrude22.mirror(Plane(origin=(36, 0, 0), x_dir=(0, 0, 1), z_dir=(1, 0, 0))))

    # Sketch51 → Cut-Extrude22 (cut)
    with BuildSketch(Plane(origin=(0, 5, 0), x_dir=(1, 0, 0), z_dir=(0, 1, 0))):
        with BuildLine():
            Line((8.5, 59), (8.5, 57))
            ThreePointArc((8.5, 57), (6, 54.5), (3.5, 57))
            Line((3.5, 57), (3.5, 59))
            ThreePointArc((3.5, 59), (6, 61.5), (8.5, 59))
        make_face()
    extrude(amount=-CUT_EXTRUDE22_DEPTH, mode=Mode.SUBTRACT)


solid = part.part
